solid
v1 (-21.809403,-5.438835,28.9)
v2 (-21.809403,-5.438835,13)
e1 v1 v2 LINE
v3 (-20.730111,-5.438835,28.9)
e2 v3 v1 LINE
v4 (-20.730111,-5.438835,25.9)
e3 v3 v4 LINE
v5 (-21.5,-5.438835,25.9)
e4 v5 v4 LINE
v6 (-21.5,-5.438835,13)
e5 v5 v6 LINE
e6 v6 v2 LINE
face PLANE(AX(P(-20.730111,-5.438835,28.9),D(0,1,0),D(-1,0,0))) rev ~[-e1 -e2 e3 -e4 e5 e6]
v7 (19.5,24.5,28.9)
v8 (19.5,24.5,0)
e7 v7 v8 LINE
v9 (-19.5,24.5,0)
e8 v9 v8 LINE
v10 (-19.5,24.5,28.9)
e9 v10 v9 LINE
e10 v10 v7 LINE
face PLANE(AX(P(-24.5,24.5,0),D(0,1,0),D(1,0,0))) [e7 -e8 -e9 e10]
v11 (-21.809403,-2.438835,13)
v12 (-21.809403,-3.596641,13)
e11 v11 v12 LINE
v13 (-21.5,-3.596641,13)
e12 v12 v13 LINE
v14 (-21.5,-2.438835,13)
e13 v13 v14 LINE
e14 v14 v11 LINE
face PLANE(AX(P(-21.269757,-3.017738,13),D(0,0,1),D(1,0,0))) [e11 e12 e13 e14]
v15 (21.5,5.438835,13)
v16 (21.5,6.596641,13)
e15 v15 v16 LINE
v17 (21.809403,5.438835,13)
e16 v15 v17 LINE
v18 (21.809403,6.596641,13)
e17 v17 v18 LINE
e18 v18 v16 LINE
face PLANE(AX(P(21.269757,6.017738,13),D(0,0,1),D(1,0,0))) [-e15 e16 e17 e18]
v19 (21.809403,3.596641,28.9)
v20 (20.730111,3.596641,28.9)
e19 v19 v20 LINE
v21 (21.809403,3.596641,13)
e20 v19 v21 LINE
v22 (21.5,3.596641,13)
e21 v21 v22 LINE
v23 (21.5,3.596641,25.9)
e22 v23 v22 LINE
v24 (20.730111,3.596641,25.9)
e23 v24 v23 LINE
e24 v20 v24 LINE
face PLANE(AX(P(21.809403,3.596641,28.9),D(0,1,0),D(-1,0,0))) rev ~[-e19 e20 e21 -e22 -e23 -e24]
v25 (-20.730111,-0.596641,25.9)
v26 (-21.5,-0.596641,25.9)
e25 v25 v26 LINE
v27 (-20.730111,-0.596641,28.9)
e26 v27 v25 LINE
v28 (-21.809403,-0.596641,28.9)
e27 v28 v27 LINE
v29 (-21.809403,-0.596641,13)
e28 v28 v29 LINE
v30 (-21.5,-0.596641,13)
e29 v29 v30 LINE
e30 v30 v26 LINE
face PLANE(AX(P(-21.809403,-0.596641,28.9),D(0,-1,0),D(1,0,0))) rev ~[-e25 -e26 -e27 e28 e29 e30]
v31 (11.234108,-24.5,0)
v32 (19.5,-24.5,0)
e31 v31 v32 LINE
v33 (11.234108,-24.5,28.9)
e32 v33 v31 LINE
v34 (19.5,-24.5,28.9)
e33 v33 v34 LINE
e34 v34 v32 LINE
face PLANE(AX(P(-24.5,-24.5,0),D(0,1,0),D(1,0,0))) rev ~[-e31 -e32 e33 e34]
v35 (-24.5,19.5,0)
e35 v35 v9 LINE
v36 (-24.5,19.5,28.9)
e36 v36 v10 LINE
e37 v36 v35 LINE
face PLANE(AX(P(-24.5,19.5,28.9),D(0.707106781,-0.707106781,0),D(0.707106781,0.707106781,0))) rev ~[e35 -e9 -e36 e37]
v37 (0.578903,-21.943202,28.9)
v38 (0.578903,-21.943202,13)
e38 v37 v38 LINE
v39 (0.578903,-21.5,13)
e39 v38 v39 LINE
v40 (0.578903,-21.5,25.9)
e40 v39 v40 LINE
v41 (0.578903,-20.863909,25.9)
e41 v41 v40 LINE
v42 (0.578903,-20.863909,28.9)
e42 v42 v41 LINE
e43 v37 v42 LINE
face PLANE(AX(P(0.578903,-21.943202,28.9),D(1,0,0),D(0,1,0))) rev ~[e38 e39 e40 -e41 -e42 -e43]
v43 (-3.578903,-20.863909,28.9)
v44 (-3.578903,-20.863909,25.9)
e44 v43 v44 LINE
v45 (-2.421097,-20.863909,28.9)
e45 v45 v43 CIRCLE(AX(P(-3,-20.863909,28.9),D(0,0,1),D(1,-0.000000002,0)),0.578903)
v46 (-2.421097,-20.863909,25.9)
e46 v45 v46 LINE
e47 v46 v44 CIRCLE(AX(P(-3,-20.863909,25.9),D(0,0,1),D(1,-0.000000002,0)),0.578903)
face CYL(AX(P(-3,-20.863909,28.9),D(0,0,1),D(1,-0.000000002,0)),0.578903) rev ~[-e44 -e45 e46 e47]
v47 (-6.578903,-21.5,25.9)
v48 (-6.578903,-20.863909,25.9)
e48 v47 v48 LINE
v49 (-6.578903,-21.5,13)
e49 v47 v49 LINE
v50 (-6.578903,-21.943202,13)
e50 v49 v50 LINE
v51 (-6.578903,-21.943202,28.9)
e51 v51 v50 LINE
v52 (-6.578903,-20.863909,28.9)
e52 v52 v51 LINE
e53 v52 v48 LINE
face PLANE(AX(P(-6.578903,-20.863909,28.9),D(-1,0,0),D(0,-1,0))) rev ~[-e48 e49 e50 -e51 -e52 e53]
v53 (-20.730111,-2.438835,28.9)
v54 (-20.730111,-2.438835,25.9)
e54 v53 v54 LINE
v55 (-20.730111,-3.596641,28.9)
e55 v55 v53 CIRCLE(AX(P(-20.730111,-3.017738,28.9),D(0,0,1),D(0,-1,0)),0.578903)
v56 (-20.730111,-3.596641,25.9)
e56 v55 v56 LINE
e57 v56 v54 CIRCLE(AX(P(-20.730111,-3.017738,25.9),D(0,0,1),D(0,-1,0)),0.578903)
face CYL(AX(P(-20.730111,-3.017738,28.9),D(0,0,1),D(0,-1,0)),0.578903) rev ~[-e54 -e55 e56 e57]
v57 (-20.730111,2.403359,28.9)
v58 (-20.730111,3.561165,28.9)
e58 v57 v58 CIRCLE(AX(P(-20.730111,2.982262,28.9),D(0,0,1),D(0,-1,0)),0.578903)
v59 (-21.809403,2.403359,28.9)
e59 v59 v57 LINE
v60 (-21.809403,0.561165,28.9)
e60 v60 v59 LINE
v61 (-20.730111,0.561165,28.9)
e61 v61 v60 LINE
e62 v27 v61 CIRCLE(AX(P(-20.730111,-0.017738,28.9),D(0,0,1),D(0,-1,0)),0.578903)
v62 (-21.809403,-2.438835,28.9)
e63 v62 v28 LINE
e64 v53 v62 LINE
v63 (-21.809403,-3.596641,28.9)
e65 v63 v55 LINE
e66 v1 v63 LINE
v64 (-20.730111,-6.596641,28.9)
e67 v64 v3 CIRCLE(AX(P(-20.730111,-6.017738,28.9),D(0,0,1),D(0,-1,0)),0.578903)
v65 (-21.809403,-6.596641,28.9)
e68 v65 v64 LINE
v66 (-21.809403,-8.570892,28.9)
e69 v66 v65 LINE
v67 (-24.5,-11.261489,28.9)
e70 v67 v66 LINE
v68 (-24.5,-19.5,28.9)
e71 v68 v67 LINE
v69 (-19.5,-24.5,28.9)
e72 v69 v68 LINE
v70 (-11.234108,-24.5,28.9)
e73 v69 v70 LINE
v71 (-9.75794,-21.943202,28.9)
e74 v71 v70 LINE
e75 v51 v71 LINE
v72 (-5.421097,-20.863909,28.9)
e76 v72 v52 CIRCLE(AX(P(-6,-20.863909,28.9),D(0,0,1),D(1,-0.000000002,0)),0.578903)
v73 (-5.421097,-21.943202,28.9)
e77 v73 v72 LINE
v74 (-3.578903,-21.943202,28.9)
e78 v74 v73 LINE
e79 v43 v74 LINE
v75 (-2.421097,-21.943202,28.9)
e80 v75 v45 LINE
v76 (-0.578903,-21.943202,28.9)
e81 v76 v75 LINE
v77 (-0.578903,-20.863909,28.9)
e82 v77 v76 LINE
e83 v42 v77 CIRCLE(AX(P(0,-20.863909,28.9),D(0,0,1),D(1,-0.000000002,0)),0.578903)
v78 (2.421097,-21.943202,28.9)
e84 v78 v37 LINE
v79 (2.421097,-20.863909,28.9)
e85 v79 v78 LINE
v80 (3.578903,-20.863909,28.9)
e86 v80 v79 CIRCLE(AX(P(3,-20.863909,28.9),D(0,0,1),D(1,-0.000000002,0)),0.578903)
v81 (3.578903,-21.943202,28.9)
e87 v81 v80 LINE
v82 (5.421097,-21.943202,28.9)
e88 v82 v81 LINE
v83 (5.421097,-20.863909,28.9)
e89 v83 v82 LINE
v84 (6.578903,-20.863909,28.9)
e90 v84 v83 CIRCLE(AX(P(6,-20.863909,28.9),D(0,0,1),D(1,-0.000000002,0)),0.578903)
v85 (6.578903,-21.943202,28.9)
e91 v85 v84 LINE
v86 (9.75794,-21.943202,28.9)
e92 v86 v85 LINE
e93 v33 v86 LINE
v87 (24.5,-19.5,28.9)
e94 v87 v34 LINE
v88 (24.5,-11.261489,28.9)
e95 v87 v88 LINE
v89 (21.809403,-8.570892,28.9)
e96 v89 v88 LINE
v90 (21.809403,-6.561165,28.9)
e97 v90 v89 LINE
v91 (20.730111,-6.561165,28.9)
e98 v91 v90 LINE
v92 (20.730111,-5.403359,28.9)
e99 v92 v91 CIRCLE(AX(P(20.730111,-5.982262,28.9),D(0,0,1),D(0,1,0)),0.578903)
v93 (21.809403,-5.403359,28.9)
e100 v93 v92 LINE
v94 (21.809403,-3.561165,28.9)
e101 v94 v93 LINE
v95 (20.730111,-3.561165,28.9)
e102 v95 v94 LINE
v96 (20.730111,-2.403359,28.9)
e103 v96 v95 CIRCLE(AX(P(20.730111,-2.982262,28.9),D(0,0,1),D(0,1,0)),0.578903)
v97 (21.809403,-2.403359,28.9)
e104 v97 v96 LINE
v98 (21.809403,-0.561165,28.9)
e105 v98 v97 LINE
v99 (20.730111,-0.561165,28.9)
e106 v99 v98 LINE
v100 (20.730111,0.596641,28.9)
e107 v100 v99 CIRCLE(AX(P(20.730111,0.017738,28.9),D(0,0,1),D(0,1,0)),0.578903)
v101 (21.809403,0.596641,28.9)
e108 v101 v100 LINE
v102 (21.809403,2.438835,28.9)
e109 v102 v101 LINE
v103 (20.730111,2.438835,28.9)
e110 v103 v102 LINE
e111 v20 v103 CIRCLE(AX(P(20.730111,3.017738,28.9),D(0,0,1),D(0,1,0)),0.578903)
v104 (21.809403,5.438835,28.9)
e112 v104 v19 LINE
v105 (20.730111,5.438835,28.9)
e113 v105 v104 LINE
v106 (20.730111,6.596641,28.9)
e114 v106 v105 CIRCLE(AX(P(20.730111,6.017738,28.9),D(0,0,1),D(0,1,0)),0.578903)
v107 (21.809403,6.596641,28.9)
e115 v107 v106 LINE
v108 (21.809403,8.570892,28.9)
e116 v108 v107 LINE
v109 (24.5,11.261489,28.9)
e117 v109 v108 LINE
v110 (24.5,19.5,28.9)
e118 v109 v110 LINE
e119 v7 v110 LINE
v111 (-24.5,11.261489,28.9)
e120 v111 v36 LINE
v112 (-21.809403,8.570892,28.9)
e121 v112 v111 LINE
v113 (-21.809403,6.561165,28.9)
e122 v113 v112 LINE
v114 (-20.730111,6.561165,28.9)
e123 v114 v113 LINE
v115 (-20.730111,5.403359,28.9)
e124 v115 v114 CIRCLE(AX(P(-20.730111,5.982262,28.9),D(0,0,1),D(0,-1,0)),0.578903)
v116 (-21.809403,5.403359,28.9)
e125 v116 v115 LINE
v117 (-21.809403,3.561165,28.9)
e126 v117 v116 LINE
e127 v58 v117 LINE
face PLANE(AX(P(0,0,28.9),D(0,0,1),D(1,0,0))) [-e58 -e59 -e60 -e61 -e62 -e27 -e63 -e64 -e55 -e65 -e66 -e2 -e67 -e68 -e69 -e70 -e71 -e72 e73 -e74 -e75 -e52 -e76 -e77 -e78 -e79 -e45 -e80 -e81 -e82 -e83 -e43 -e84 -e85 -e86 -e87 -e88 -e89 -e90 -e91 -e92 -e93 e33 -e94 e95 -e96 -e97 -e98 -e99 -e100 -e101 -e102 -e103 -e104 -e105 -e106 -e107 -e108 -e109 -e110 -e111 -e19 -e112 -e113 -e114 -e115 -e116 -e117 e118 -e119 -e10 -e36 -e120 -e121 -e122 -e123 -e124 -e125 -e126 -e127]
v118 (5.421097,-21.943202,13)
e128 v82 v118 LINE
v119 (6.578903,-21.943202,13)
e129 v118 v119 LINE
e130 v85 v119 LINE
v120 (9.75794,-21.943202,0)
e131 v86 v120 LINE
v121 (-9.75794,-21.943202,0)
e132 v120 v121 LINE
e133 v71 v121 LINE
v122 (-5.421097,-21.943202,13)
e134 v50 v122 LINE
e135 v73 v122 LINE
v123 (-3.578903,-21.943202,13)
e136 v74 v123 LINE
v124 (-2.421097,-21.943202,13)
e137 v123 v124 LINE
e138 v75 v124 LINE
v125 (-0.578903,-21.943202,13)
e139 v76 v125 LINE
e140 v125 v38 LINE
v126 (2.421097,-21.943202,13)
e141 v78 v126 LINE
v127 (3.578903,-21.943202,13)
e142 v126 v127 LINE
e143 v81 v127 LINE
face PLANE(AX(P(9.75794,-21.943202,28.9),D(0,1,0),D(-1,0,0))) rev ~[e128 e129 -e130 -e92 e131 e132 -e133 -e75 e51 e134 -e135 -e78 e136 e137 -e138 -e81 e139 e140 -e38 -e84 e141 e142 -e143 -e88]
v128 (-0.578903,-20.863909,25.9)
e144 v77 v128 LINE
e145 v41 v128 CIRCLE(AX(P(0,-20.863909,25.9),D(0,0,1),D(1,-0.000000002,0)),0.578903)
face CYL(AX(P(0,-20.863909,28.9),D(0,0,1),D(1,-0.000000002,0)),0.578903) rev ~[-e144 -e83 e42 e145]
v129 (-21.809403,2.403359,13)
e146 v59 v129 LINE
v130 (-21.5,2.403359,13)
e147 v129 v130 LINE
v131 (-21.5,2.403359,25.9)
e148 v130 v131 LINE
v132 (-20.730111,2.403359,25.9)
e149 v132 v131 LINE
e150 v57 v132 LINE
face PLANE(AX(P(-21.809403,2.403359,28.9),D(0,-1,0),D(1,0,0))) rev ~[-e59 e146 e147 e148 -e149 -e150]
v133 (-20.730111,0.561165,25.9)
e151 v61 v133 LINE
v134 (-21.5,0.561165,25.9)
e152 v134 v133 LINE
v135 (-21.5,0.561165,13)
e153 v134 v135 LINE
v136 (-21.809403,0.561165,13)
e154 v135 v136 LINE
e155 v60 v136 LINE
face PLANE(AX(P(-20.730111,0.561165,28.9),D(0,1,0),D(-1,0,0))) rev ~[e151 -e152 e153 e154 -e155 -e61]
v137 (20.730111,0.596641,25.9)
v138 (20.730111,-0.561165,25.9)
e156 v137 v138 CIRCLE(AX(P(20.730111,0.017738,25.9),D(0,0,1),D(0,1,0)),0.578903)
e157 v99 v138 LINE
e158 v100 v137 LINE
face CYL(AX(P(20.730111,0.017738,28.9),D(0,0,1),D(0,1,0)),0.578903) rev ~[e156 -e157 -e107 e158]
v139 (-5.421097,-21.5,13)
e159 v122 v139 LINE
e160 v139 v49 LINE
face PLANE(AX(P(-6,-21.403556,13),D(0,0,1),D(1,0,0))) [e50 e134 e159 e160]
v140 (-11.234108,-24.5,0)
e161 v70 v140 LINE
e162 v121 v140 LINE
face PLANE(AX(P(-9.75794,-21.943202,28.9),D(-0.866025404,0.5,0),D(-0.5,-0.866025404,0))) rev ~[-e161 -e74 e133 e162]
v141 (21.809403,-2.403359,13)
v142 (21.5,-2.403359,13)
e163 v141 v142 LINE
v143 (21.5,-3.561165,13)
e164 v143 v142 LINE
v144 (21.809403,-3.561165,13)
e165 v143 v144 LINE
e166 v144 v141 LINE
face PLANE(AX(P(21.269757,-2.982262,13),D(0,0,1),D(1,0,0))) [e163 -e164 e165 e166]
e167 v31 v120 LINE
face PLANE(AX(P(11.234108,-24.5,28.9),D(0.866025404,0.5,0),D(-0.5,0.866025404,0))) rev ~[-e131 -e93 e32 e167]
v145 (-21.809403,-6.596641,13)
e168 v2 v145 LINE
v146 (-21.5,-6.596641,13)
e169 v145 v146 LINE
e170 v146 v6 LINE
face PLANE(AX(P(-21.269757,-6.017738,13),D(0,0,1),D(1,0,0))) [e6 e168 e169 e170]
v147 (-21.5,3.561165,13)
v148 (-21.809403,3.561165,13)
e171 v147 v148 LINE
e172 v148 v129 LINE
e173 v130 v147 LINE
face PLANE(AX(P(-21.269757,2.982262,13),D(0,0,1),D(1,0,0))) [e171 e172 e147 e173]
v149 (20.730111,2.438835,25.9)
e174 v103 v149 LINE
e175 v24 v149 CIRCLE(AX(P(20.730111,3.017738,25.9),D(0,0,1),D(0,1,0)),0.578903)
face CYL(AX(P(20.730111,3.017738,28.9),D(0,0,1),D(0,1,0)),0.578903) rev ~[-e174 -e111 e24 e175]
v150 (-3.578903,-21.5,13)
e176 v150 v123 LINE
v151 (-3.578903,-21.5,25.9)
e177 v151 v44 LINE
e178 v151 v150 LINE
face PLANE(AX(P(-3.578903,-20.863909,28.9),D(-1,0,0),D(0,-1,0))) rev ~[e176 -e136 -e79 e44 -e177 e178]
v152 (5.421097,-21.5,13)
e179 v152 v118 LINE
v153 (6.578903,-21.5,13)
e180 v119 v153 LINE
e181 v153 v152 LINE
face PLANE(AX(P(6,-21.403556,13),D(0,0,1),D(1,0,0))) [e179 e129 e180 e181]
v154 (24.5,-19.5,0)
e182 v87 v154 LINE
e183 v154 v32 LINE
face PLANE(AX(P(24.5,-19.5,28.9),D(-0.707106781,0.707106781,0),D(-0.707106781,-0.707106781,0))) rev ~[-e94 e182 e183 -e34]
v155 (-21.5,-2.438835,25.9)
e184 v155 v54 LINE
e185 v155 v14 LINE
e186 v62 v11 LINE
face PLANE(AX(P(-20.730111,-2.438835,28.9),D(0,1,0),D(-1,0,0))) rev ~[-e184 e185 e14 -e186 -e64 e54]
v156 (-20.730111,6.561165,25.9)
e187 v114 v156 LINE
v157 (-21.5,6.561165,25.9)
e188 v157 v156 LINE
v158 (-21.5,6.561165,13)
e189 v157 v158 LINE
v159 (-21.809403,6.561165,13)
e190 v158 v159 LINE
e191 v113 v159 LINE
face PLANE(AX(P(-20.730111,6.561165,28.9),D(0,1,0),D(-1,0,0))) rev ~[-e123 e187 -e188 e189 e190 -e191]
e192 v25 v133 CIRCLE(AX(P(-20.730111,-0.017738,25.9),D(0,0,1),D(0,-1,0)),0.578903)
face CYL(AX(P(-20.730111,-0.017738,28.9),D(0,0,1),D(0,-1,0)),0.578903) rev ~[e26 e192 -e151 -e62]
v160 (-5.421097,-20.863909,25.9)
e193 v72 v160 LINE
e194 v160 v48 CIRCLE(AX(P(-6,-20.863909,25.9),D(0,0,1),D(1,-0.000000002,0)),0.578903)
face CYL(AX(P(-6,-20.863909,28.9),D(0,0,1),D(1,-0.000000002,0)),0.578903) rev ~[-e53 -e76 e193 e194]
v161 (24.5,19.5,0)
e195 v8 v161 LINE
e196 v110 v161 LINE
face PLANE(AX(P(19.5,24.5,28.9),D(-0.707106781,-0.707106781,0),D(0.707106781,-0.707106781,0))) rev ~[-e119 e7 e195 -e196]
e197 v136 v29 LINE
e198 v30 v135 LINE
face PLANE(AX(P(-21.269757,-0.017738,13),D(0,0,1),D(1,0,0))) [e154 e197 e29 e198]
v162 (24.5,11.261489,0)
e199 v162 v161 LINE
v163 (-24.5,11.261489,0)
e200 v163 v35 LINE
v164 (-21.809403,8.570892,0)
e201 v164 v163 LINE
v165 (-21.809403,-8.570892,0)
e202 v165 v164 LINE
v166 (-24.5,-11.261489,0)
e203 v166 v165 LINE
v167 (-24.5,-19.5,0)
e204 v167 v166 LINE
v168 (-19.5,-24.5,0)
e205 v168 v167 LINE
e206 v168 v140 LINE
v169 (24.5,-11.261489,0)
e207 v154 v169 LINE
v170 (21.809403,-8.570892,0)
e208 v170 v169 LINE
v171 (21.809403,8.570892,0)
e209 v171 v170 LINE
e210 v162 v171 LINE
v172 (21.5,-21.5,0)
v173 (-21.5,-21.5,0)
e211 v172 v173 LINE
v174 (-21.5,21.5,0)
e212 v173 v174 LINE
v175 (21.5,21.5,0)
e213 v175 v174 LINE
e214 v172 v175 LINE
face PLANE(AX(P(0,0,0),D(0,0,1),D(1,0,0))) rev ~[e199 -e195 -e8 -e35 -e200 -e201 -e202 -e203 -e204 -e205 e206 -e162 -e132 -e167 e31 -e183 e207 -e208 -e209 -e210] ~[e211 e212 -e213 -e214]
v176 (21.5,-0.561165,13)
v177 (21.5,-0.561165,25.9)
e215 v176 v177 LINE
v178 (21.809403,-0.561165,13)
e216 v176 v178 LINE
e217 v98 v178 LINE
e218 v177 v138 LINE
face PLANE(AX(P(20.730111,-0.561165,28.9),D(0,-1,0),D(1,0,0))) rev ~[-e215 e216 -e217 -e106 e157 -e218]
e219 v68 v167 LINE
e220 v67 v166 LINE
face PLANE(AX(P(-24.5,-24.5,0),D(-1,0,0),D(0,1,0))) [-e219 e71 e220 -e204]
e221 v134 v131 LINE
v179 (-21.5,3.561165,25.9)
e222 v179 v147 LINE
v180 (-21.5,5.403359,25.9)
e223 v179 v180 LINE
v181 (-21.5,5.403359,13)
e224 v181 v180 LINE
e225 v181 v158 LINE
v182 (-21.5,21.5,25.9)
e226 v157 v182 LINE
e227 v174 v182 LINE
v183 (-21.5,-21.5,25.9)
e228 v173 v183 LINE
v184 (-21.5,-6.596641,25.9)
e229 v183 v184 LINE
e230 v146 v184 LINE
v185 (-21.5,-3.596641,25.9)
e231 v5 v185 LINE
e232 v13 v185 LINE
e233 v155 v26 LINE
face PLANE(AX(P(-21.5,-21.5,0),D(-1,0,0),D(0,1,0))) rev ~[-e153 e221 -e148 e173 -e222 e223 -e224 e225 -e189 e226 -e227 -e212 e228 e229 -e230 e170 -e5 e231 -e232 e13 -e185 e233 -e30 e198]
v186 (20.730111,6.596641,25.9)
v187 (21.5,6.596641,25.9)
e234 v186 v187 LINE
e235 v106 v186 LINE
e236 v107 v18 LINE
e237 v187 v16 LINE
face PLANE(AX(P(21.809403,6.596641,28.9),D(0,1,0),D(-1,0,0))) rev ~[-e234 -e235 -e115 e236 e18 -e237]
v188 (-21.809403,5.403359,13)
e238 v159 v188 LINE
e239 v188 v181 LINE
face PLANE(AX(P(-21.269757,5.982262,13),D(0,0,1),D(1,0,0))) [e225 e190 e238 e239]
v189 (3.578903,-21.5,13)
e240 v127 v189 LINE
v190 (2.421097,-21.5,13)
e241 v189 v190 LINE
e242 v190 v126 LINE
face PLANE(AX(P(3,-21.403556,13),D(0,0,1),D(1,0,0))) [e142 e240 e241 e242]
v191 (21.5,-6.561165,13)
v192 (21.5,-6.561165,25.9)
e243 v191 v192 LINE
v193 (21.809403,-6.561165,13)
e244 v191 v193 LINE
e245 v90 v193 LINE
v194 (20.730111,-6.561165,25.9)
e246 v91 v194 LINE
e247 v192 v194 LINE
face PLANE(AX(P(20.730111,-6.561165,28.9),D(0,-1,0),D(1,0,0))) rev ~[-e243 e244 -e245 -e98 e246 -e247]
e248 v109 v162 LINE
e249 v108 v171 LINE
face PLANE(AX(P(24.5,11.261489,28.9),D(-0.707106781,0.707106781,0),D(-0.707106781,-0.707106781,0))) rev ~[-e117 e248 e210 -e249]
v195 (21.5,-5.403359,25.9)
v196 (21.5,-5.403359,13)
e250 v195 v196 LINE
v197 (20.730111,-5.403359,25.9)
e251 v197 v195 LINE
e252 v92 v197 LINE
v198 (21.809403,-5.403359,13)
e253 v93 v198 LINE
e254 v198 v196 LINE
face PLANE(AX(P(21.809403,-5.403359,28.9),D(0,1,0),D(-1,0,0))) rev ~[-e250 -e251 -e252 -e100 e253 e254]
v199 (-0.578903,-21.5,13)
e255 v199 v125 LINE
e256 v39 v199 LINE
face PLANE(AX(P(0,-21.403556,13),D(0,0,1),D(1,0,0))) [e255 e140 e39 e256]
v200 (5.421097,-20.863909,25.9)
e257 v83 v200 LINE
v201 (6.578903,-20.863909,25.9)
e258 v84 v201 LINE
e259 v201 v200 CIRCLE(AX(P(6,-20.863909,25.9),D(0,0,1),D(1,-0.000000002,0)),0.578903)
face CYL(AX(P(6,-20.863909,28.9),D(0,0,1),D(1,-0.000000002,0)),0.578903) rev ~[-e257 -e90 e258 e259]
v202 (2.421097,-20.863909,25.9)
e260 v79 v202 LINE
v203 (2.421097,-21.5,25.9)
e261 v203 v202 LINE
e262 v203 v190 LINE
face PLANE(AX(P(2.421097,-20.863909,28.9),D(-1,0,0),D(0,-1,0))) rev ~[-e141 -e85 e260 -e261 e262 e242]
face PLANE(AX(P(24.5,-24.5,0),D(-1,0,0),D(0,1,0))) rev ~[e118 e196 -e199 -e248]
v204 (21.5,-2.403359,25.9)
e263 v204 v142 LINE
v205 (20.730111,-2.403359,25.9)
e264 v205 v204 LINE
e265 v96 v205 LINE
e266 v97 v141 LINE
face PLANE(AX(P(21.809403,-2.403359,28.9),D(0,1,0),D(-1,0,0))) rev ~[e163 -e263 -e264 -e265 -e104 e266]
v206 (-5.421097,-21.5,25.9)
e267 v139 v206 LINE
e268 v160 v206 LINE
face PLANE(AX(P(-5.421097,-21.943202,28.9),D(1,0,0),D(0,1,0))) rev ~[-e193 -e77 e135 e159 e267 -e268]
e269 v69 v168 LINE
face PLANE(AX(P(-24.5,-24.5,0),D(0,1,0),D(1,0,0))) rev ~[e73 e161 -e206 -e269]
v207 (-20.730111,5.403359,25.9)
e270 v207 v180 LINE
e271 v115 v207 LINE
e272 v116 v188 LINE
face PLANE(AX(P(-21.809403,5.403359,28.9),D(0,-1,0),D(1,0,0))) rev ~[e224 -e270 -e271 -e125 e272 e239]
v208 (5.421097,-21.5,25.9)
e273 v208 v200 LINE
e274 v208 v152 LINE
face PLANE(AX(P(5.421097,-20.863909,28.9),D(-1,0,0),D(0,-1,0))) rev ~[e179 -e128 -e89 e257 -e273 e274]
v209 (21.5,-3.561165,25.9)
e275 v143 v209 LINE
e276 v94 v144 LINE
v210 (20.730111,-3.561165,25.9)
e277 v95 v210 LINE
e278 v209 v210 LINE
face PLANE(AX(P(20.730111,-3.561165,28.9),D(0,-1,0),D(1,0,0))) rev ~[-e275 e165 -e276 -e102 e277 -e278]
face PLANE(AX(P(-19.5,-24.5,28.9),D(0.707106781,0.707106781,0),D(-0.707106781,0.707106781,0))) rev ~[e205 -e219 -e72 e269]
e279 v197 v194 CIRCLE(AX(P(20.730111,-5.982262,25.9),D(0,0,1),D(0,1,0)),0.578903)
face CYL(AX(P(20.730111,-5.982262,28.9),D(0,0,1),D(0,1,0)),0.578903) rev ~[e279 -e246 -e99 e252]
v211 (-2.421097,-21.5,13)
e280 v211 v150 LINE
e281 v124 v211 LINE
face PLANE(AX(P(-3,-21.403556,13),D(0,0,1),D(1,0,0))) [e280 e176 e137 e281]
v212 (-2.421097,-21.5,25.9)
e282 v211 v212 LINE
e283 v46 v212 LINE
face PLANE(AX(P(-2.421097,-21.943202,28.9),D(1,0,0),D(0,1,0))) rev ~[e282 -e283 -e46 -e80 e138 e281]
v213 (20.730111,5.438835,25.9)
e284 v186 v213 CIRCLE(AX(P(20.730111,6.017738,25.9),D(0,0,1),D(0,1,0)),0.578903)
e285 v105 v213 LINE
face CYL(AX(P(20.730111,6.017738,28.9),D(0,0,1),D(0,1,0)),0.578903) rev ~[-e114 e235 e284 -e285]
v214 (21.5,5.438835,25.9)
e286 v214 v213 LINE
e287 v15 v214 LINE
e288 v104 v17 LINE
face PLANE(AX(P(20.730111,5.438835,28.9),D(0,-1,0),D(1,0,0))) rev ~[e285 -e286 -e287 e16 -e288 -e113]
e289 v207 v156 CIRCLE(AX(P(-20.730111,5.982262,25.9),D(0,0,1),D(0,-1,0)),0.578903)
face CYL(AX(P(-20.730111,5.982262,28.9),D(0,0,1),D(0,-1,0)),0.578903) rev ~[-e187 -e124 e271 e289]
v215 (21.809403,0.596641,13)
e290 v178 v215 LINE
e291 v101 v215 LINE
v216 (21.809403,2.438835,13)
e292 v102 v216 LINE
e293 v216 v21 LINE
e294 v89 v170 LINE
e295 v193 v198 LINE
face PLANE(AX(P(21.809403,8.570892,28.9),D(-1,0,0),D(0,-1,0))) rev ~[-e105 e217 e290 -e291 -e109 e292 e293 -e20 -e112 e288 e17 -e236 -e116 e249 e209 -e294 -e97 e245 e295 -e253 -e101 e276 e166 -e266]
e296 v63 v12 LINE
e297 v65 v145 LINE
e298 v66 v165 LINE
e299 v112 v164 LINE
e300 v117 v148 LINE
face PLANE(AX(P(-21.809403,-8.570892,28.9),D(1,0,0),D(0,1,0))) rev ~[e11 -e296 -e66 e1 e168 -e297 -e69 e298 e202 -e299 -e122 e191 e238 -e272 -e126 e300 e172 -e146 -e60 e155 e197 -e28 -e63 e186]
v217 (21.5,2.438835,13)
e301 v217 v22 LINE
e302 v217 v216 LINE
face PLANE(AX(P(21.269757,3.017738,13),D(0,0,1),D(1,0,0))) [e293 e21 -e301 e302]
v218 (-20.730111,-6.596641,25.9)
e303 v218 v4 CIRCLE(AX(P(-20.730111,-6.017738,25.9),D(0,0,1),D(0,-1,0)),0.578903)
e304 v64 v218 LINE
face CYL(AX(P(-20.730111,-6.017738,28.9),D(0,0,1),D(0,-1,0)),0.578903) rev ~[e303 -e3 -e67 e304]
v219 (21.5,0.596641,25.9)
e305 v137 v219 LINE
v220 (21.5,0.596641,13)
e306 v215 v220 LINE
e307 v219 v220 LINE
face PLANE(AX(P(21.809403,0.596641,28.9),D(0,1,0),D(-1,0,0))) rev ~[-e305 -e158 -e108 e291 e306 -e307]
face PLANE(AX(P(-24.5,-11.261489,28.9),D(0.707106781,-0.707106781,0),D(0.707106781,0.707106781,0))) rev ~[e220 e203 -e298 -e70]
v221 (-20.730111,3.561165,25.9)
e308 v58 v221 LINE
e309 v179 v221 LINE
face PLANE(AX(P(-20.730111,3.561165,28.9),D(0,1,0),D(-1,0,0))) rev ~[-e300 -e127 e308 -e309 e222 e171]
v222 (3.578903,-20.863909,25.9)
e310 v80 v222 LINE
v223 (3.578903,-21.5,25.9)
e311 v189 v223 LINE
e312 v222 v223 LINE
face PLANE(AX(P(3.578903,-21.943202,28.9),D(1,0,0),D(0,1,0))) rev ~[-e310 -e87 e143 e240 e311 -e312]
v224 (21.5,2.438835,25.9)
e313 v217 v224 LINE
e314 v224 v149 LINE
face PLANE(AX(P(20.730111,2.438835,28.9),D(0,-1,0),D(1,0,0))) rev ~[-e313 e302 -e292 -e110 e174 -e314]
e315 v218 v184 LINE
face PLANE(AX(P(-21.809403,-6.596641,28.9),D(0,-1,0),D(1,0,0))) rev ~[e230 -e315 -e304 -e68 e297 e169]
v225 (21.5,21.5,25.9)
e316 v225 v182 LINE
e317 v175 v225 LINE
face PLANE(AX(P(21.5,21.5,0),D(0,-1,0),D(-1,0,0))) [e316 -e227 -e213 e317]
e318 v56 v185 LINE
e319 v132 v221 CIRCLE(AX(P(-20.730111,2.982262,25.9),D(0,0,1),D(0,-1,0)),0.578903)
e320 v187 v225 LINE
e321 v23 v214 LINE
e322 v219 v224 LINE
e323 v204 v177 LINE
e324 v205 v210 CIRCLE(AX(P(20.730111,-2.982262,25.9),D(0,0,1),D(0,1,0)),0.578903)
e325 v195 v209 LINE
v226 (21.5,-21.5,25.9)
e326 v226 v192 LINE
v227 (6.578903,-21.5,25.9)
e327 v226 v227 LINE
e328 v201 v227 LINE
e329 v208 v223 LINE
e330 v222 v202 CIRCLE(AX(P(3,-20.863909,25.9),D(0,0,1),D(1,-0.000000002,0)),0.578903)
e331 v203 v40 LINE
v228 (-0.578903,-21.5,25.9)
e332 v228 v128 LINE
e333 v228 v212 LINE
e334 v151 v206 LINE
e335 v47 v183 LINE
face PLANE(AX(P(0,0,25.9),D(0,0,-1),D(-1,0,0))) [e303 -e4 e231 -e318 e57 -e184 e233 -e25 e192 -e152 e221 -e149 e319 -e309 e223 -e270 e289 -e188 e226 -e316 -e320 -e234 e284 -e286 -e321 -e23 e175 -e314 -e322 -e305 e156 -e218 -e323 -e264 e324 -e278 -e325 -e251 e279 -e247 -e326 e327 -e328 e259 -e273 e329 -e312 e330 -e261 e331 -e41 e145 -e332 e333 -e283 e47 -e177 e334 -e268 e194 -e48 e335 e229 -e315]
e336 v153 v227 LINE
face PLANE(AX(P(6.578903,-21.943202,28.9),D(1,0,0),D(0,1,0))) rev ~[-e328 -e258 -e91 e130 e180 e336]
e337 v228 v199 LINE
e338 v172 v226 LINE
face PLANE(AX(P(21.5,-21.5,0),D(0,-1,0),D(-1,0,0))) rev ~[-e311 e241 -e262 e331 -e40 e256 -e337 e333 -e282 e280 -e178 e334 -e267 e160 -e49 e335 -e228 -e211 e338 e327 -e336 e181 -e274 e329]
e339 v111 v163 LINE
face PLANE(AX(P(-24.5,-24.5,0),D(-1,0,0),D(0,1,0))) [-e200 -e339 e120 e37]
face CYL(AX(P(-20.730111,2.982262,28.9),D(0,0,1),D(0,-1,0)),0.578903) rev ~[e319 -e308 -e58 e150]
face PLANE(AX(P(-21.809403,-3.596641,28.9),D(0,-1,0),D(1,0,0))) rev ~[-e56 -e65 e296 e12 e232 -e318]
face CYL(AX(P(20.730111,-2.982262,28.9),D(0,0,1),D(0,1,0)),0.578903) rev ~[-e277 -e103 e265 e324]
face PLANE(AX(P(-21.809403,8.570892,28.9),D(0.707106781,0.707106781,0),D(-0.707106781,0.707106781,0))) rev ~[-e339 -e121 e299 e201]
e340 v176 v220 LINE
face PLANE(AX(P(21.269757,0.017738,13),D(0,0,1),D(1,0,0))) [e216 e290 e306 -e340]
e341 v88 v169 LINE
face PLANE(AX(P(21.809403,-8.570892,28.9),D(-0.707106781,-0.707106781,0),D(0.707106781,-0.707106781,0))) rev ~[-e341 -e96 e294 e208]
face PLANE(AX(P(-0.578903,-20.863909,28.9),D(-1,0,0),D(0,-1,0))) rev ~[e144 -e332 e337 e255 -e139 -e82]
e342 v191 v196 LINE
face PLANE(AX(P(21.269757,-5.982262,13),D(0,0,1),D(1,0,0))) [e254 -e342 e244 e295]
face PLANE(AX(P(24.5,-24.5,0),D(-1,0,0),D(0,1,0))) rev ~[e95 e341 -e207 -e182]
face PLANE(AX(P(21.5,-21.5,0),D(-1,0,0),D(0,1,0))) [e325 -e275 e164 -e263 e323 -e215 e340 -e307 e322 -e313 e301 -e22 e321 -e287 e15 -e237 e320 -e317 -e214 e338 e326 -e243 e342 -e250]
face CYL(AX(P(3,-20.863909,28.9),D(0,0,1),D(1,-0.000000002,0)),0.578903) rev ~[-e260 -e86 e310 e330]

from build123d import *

# Parameters (mm, degrees)
SKETCH1_W           = 49
SKETCH1_H           = 49
BOSS_EXTRUDE1_DEPTH = 28.9
SKETCH2_W           = 43
SKETCH2_H           = 43
CUT_EXTRUDE1_DEPTH  = 25.9
CUT_EXTRUDE2_DEPTH  = 46.11884307
CUT_EXTRUDE3_DEPTH  = 15.9


with BuildPart() as part:
    # Sketch1 → Boss-Extrude1 (new body)
    with BuildSketch(Plane.XY):
        Rectangle(SKETCH1_W, SKETCH1_H)
    extrude(amount=BOSS_EXTRUDE1_DEPTH)

    # Sketch2 → Cut-Extrude1 (cut)
    with BuildSketch(Plane(origin=(0, 0, 0), x_dir=(-1, 0, 0), z_dir=(0, 0, -1))):
        Rectangle(SKETCH2_W, SKETCH2_H)
    extrude(amount=-CUT_EXTRUDE1_DEPTH, mode=Mode.SUBTRACT)

    # Sketch3 → Cut-Extrude2 (cut, through all)
    with BuildSketch(Plane.XY.offset(28.9)):
        Polygon((-21.809403406, 8.570892497), (-24.5, 11.26148909), (-24.5, -11.26148909), (-21.809403406, -8.570892497), align=None)
        Polygon((-19.5, -24.5), (-24.5, -19.5), (-24.5, -24.5), align=None)
        Polygon((-9.757939822, -21.943201951), (-11.234107864, -24.5), (11.234107864, -24.5), (9.757939822, -21.943201951), align=None)
        Polygon((24.5, -24.5), (24.5, -19.5), (19.5, -24.5), align=None)
        Polygon((24.5, -11.26148909), (24.5, 11.26148909), (21.809403406, 8.570892497), (21.809403406, -8.570892497), align=None)
        Polygon((-24.5, 19.5), (-19.5, 24.5), (-24.5, 24.5), align=None)
        Polygon((24.5, 24.5), (19.5, 24.5), (24.5, 19.5), align=None)
    extrude(amount=-CUT_EXTRUDE2_DEPTH, mode=Mode.SUBTRACT)

    # Sketch4 → Cut-Extrude3 (cut)
    with BuildSketch(Plane.XY.offset(28.9)):
        with BuildLine():
            Line((-21.809403406, -6.596640664), (-20.73011061, -6.596640664))
            ThreePointArc((-20.73011061, -6.596640664), (-20.151207618, -6.017737672), (-20.73011061, -5.43883468))
            Line((-20.73011061, -5.43883468), (-21.809403406, -5.43883468))
            ThreePointArc((-21.809403406, -5.43883468), (-22.388306399, -6.017737672), (-21.809403406, -6.596640664))
        make_face()
        with BuildLine():
            Line((-21.809403406, -3.596640664), (-20.73011061, -3.596640664))
            ThreePointArc((-20.73011061, -3.596640664), (-20.151207618, -3.017737672), (-20.73011061, -2.43883468))
            Line((-20.73011061, -2.43883468), (-21.809403406, -2.43883468))
            ThreePointArc((-21.809403406, -2.43883468), (-22.388306399, -3.017737672), (-21.809403406, -3.596640664))
        make_face()
        with BuildLine():
            Line((-21.809403406, -0.596640664), (-20.73011061, -0.596640664))
            ThreePointArc((-20.73011061, -0.596640664), (-20.151207618, -0.017737672), (-20.73011061, 0.56116532))
            Line((-20.73011061, 0.56116532), (-21.809403406, 0.56116532))
            ThreePointArc((-21.809403406, 0.56116532), (-22.388306399, -0.017737672), (-21.809403406, -0.596640664))
        make_face()
        with BuildLine():
            Line((-21.809403406, 2.403359336), (-20.73011061, 2.403359336))
            ThreePointArc((-20.73011061, 2.403359336), (-20.151207618, 2.982262328), (-20.73011061, 3.56116532))
            Line((-20.73011061, 3.56116532), (-21.809403406, 3.56116532))
            ThreePointArc((-21.809403406, 3.56116532), (-22.388306399, 2.982262328), (-21.809403406, 2.403359336))
        make_face()
        with BuildLine():
            Line((-21.809403406, 5.403359336), (-20.73011061, 5.403359336))
            ThreePointArc((-20.73011061, 5.403359336), (-20.151207618, 5.982262328), (-20.73011061, 6.56116532))
            Line((-20.73011061, 6.56116532), (-21.809403406, 6.56116532))
            ThreePointArc((-21.809403406, 6.56116532), (-22.388306399, 5.982262328), (-21.809403406, 5.403359336))
        make_face()
        with BuildLine():
            Line((21.809403406, -5.403359336), (20.73011061, -5.403359336))
            ThreePointArc((20.73011061, -5.403359336), (20.151207618, -5.982262328), (20.73011061, -6.56116532))
            Line((20.73011061, -6.56116532), (21.809403406, -6.56116532))
            ThreePointArc((21.809403406, -6.56116532), (22.388306399, -5.982262328), (21.809403406, -5.403359336))
        make_face()
        with BuildLine():
            Line((21.809403406, -2.403359336), (20.73011061, -2.403359336))
            ThreePointArc((20.73011061, -2.403359336), (20.151207618, -2.982262328), (20.73011061, -3.56116532))
            Line((20.73011061, -3.56116532), (21.809403406, -3.56116532))
            ThreePointArc((21.809403406, -3.56116532), (22.388306399, -2.982262328), (21.809403406, -2.403359336))
        make_face()
        with BuildLine():
            Line((21.809403406, 0.596640664), (20.73011061, 0.596640664))
            ThreePointArc((20.73011061, 0.596640664), (20.151207618, 0.017737672), (20.73011061, -0.56116532))
            Line((20.73011061, -0.56116532), (21.809403406, -0.56116532))
            ThreePointArc((21.809403406, -0.56116532), (22.388306399, 0.017737672), (21.809403406, 0.596640664))
        make_face()
        with BuildLine():
            Line((21.809403406, 3.596640664), (20.73011061, 3.596640664))
            ThreePointArc((20.73011061, 3.596640664), (20.151207618, 3.017737672), (20.73011061, 2.43883468))
            Line((20.73011061, 2.43883468), (21.809403406, 2.43883468))
            ThreePointArc((21.809403406, 2.43883468), (22.388306399, 3.017737672), (21.809403406, 3.596640664))
        make_face()
        with BuildLine():
            Line((21.809403406, 6.596640664), (20.73011061, 6.596640664))
            ThreePointArc((20.73011061, 6.596640664), (20.151207618, 6.017737672), (20.73011061, 5.43883468))
            Line((20.73011061, 5.43883468), (21.809403406, 5.43883468))
            ThreePointArc((21.809403406, 5.43883468), (22.388306399, 6.017737672), (21.809403406, 6.596640664))
        make_face()
        with BuildLine():
            Line((5.421097008, -20.863909155), (5.421097008, -21.943201951))
            ThreePointArc((5.421097008, -21.943201951), (6, -22.522104943), (6.578902992, -21.943201951))
            Line((6.578902992, -21.943201951), (6.578902992, -20.863909155))
            ThreePointArc((6.578902992, -20.863909155), (6, -20.285006162), (5.421097008, -20.863909155))
        make_face()
        with BuildLine():
            Line((2.421097008, -20.863909155), (2.421097008, -21.943201951))
            ThreePointArc((2.421097008, -21.943201951), (3, -22.522104943), (3.578902992, -21.943201951))
            Line((3.578902992, -21.943201951), (3.578902992, -20.863909155))
            ThreePointArc((3.578902992, -20.863909155), (3, -20.285006162), (2.421097008, -20.863909155))
        make_face()
        with BuildLine():
            Line((-0.578902992, -20.863909155), (-0.578902992, -21.943201951))
            ThreePointArc((-0.578902992, -21.943201951), (0, -22.522104943), (0.578902992, -21.943201951))
            Line((0.578902992, -21.943201951), (0.578902992, -20.863909155))
            ThreePointArc((0.578902992, -20.863909155), (0, -20.285006162), (-0.578902992, -20.863909155))
        make_face()
        with BuildLine():
            Line((-3.578902992, -20.863909155), (-3.578902992, -21.943201951))
            ThreePointArc((-3.578902992, -21.943201951), (-3, -22.522104943), (-2.421097008, -21.943201951))
            Line((-2.421097008, -21.943201951), (-2.421097008, -20.863909155))
            ThreePointArc((-2.421097008, -20.863909155), (-3, -20.285006162), (-3.578902992, -20.863909155))
        make_face()
        with BuildLine():
            Line((-6.578902992, -20.863909155), (-6.578902992, -21.943201951))
            ThreePointArc((-6.578902992, -21.943201951), (-6, -22.522104943), (-5.421097008, -21.943201951))
            Line((-5.421097008, -21.943201951), (-5.421097008, -20.863909155))
            ThreePointArc((-5.421097008, -20.863909155), (-6, -20.285006162), (-6.578902992, -20.863909155))
        make_face()
    extrude(amount=-CUT_EXTRUDE3_DEPTH, mode=Mode.SUBTRACT)


solid = part.part
